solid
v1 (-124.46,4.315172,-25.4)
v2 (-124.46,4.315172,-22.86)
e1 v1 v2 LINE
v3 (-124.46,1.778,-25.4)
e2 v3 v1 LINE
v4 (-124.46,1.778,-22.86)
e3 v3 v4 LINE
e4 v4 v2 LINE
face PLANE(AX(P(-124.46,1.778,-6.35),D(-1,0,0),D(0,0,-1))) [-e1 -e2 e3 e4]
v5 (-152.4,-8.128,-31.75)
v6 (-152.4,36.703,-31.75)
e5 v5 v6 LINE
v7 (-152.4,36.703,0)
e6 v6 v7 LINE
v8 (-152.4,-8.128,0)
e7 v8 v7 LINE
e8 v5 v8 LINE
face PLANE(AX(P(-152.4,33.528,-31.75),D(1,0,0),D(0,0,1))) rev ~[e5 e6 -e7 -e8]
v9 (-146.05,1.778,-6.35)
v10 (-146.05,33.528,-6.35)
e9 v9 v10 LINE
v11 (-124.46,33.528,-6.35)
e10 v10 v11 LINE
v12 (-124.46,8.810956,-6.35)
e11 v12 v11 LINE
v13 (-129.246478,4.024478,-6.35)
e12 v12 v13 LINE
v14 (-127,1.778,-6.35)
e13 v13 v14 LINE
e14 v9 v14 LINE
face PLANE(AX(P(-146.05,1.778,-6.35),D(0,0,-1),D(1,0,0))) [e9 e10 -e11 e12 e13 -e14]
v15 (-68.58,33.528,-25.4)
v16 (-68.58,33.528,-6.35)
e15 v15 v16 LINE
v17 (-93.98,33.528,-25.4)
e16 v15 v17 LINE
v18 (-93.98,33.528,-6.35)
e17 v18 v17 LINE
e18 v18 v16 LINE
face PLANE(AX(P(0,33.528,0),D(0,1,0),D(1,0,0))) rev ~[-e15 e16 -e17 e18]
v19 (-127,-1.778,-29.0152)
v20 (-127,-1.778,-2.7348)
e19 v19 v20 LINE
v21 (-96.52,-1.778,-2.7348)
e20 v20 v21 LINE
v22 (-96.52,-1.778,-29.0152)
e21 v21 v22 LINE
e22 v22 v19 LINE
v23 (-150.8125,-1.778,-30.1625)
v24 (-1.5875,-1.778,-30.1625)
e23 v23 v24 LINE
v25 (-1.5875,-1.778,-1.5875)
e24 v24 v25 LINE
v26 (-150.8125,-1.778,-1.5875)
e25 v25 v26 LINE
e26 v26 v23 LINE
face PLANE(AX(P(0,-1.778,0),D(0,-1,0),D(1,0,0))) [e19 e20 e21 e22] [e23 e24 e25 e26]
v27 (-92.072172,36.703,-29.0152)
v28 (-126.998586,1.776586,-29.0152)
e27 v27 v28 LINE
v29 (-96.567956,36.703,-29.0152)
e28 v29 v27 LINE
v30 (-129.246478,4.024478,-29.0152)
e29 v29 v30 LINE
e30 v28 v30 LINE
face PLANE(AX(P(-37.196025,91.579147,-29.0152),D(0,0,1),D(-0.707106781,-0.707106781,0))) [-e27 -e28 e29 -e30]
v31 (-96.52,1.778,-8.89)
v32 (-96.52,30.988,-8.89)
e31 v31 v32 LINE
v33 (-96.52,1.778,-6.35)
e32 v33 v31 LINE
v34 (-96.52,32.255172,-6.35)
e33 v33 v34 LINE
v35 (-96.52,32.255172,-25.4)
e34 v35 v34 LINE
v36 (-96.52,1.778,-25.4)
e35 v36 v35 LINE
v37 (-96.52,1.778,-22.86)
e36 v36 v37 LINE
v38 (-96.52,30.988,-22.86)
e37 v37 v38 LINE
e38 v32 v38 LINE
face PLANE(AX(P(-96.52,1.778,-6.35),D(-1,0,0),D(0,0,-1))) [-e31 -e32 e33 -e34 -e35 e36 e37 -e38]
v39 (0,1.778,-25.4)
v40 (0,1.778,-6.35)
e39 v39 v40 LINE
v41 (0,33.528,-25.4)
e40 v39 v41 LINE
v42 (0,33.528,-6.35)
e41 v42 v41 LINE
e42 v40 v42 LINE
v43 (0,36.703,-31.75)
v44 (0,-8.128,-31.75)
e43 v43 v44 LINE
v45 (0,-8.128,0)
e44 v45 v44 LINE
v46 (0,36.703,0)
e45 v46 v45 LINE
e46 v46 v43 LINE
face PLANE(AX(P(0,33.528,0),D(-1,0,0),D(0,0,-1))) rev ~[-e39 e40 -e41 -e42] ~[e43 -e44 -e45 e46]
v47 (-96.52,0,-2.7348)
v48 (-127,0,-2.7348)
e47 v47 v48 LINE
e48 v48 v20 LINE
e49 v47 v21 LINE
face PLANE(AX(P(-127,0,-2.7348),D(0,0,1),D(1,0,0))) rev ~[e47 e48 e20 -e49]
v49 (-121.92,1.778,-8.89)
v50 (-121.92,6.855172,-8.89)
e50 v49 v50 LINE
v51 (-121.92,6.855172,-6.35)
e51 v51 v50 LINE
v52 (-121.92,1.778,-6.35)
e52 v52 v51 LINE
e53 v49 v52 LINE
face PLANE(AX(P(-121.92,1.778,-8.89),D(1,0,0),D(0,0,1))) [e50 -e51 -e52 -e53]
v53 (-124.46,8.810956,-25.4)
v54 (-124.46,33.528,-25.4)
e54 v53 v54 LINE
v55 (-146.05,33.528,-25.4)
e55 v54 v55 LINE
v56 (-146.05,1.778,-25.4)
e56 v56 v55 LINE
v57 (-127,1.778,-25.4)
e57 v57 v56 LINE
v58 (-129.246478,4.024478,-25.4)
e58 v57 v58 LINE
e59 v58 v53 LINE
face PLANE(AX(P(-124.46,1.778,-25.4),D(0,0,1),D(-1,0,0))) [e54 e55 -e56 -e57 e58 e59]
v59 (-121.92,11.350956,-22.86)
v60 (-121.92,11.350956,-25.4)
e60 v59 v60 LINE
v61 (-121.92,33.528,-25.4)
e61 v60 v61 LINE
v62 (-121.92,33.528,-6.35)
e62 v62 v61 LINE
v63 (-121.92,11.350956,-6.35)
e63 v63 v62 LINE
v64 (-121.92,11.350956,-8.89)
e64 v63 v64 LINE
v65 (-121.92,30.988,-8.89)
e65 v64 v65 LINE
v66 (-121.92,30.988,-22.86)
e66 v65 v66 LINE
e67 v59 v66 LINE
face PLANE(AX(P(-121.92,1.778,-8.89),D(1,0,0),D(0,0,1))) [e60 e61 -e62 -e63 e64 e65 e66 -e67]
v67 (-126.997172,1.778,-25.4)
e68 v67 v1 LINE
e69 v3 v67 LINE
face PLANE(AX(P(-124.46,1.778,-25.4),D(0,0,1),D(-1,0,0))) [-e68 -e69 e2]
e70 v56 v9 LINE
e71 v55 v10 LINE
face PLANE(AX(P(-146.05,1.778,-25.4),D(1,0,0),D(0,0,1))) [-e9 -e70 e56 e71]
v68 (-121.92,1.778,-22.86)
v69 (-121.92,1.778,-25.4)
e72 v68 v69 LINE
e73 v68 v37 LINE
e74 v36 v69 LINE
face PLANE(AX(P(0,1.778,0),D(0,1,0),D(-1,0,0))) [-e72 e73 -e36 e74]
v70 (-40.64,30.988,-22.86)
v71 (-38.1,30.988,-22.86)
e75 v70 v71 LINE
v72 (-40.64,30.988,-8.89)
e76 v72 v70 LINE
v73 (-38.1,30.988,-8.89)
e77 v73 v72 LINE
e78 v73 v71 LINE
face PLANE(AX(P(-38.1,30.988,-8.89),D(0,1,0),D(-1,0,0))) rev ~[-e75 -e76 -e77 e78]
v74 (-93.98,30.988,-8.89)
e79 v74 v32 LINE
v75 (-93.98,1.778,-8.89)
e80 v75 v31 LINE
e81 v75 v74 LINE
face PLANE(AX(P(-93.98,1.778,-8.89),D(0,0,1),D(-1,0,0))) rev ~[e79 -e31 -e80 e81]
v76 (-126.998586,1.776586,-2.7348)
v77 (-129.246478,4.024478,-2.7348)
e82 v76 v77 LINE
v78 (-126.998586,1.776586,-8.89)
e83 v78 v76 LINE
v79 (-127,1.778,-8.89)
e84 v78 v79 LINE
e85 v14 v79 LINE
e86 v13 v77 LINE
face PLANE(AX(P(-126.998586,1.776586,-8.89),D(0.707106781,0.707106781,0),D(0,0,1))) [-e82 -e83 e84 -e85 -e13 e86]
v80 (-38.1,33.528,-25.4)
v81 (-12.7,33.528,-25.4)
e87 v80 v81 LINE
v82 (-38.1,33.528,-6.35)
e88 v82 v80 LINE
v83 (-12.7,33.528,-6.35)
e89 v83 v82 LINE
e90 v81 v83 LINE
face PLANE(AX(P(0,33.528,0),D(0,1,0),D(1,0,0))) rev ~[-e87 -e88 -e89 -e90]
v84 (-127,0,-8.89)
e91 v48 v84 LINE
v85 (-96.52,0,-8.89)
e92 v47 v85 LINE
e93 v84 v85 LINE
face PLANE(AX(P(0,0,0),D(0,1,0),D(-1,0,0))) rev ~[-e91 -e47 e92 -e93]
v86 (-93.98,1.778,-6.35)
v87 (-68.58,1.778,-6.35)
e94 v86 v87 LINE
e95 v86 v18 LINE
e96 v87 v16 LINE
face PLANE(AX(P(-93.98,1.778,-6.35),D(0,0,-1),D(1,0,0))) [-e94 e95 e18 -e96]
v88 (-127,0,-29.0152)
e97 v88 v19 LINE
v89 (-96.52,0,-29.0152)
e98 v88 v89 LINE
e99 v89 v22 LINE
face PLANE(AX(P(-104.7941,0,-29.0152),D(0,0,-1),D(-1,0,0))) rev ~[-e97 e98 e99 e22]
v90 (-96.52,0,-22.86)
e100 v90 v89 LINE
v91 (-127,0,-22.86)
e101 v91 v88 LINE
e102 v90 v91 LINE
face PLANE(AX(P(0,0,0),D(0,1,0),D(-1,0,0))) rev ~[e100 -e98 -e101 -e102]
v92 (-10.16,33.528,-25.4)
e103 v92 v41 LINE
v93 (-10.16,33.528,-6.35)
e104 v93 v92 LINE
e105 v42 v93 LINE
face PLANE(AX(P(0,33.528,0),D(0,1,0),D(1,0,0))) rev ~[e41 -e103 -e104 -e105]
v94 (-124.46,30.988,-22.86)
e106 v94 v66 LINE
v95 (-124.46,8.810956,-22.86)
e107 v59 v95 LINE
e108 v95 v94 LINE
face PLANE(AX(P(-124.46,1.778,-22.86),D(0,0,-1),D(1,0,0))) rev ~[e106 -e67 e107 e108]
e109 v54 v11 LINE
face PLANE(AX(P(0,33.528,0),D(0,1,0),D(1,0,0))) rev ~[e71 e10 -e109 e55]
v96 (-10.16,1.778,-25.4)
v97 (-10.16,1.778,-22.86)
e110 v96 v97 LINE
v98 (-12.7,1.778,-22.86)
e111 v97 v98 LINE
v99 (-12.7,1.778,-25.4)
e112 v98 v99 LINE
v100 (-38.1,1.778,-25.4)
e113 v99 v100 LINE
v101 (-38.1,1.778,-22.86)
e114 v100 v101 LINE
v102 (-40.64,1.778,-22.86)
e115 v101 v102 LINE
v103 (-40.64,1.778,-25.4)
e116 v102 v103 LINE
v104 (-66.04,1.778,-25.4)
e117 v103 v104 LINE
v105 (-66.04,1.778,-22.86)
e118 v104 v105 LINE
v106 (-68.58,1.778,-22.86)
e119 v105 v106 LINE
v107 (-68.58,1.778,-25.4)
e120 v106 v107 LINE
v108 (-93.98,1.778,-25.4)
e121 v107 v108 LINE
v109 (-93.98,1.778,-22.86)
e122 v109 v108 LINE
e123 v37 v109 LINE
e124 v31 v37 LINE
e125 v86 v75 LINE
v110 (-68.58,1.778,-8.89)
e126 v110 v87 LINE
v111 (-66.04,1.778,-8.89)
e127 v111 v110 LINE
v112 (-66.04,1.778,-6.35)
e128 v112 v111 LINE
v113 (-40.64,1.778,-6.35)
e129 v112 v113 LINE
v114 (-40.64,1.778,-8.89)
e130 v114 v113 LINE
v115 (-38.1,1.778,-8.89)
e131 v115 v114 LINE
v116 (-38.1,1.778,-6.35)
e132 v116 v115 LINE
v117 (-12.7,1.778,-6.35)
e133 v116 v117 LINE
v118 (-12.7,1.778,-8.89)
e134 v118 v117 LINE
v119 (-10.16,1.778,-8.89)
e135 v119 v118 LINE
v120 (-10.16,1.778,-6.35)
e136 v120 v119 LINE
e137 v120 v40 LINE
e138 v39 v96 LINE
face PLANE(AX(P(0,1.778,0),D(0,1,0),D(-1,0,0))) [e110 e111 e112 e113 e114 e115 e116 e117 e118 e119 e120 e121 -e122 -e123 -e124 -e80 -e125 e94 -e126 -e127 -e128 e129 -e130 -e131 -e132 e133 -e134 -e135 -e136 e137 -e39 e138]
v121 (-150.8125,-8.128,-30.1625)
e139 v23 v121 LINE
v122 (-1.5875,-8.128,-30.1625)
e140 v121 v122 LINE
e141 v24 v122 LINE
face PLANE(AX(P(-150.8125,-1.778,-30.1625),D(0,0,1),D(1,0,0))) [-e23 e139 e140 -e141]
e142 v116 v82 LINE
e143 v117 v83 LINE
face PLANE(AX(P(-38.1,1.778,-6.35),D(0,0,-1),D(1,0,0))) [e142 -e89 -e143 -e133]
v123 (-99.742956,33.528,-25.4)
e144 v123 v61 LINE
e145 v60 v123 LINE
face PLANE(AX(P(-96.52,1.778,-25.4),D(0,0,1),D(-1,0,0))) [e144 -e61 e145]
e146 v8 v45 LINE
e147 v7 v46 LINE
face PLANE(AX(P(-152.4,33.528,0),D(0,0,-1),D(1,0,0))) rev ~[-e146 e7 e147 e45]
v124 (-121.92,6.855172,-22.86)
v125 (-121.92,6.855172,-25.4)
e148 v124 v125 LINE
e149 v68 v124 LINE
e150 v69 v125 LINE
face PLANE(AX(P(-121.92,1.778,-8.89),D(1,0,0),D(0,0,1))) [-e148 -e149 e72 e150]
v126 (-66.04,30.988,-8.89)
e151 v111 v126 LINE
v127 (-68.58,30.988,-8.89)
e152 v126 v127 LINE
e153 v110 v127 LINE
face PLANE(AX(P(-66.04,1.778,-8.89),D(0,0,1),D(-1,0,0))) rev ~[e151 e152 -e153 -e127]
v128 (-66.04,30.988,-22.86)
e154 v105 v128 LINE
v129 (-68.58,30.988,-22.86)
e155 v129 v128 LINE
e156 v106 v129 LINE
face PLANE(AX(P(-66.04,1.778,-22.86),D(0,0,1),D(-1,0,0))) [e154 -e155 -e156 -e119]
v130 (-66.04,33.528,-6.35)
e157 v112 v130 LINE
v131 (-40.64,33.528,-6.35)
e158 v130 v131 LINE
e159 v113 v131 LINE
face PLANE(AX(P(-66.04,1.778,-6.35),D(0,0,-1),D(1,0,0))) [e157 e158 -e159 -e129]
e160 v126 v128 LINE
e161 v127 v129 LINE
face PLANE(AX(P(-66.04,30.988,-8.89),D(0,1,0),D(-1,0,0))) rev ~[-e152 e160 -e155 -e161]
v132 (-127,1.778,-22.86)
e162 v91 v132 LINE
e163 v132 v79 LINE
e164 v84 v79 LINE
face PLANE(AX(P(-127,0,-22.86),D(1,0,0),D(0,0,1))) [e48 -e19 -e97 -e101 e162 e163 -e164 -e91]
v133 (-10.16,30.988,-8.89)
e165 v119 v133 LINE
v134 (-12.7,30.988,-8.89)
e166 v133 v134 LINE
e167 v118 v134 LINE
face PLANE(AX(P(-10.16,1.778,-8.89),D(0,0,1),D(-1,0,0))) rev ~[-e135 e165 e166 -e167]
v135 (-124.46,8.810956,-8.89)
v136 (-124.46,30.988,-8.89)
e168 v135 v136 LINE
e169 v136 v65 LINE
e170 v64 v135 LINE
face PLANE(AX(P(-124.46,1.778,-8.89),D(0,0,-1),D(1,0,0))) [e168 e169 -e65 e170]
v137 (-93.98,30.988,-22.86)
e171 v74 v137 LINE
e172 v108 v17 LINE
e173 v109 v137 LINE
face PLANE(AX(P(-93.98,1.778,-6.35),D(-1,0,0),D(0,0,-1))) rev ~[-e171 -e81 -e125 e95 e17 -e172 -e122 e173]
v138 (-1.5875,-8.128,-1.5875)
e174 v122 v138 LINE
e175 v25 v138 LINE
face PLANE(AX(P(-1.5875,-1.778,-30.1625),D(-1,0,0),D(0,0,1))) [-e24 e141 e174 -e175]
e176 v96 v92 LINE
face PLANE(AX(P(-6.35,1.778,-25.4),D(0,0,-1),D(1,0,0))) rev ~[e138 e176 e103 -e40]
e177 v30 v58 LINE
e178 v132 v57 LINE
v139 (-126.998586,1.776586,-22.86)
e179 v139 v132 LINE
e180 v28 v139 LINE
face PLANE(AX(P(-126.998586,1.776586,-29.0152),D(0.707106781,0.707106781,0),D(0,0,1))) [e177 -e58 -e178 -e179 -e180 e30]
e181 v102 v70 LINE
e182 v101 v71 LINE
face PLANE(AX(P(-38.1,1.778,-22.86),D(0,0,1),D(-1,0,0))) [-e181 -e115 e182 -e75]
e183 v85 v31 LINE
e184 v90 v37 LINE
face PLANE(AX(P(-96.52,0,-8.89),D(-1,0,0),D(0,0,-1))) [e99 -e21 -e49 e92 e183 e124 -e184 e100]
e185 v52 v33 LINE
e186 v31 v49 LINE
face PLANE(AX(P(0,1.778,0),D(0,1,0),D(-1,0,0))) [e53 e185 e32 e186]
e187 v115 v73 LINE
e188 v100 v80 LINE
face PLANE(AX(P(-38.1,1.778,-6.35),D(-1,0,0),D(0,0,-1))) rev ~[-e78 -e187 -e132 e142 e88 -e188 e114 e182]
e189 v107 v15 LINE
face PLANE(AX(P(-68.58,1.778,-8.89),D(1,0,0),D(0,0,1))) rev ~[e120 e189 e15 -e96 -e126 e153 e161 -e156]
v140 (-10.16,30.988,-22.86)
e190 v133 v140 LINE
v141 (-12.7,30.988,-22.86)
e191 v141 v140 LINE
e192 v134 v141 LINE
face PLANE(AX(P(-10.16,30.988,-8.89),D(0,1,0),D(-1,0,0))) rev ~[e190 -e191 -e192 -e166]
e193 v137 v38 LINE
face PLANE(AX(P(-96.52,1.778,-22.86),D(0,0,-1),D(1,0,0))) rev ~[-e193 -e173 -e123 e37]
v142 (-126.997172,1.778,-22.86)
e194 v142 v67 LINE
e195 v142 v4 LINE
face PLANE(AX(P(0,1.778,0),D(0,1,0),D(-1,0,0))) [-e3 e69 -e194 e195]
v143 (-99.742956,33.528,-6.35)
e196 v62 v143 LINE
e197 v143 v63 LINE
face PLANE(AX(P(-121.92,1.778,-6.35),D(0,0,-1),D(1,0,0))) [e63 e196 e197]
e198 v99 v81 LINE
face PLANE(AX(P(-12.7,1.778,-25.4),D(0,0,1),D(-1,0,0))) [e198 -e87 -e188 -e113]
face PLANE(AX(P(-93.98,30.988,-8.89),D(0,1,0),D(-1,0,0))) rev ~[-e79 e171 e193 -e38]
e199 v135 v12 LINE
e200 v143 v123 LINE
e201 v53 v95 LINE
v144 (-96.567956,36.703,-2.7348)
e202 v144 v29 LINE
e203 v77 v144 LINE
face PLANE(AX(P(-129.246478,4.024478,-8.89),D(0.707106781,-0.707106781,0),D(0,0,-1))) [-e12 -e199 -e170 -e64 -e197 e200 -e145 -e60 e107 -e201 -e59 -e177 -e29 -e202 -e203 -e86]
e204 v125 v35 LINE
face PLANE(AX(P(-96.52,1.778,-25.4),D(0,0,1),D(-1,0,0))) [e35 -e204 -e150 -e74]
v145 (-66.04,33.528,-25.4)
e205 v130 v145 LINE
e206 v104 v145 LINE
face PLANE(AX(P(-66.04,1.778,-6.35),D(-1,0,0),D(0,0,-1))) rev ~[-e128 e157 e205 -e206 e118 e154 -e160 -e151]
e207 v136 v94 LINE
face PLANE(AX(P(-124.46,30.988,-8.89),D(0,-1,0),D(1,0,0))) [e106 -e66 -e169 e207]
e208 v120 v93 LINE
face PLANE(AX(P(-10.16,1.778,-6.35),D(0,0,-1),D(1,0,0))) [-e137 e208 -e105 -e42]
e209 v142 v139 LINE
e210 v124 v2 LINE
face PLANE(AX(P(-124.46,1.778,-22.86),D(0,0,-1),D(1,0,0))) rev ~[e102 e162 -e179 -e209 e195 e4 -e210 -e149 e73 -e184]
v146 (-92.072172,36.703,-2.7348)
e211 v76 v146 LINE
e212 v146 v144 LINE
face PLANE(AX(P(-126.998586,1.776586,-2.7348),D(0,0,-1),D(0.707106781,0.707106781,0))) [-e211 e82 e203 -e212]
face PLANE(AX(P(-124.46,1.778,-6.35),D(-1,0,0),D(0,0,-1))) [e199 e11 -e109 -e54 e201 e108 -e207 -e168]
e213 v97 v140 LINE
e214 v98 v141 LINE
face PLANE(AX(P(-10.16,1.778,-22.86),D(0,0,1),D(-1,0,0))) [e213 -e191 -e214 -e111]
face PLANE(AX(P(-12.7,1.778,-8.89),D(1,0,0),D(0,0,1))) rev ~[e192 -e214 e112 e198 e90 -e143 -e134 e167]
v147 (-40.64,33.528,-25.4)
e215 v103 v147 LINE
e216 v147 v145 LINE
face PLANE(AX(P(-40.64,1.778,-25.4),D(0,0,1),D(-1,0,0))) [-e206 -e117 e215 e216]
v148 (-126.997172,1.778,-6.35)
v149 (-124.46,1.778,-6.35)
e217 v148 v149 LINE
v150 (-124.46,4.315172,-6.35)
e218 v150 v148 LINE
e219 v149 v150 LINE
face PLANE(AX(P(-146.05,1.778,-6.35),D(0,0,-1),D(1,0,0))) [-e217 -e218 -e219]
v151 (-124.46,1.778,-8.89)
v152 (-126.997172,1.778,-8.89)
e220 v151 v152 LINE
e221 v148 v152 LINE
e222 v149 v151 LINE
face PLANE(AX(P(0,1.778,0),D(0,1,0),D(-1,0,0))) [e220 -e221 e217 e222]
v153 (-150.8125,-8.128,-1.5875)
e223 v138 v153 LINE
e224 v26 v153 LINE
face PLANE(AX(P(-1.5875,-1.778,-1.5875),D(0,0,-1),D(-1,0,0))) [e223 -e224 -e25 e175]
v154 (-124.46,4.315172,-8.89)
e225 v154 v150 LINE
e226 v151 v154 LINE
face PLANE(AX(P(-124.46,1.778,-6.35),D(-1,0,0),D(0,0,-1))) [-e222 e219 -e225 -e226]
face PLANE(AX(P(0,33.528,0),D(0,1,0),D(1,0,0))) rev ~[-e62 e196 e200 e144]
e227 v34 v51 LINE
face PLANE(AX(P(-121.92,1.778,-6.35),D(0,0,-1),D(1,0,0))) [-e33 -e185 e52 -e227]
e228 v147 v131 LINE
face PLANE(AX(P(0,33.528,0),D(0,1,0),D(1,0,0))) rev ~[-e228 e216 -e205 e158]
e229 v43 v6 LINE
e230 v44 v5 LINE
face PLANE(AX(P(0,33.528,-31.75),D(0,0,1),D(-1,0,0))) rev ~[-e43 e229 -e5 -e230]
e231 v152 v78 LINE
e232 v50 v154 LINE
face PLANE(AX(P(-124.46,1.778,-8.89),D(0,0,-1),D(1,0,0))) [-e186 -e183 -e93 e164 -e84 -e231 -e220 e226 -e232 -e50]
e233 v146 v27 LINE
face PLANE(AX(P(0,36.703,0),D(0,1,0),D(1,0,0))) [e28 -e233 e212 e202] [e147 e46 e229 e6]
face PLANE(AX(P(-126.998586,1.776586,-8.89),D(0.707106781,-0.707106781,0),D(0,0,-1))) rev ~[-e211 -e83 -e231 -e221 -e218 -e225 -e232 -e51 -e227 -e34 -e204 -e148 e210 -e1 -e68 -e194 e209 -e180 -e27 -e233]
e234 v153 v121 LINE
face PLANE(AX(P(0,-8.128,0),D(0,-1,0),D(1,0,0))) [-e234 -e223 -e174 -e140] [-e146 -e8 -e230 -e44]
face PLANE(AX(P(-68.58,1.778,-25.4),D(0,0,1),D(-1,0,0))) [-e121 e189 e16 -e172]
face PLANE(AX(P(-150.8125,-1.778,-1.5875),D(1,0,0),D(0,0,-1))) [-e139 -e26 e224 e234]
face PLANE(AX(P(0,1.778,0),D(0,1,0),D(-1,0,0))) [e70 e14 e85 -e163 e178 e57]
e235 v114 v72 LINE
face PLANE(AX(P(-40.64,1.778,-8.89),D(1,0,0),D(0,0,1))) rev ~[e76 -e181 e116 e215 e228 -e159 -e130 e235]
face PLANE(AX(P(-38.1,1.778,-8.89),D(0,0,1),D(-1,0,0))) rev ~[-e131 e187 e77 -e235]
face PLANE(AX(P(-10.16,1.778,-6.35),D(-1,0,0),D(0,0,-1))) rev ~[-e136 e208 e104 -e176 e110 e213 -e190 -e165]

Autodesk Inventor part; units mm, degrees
ref_plane "YZ Plane" through (0, 0, 0) normal (1, 0, 0) x (0, 1, 0)
ref_plane "XZ Plane" through (0, 0, 0) normal (0, 1, 0) x (-1, 0, 0)
ref_plane "XY Plane" through (0, 0, 0) normal (0, 0, 1) x (1, 0, 0)
sketch "Sketch1" plane through (0, 0, 0) normal (0, 1, 0) x (-1, 0, 0)
  line L0 (0, 0) -> (152.4, 0)
  line L1 (152.4, 0) -> (152.4, -31.75)
  line L2 (152.4, -31.75) -> (0, -31.75)
  line L3 (0, -31.75) -> (0, 0)
  line L4 (127, -8.89) -> (96.52, -8.89)
  line L5 (96.52, -8.89) -> (96.52, -22.86)
  line L6 (96.52, -22.86) -> (127, -22.86)
  line L7 (127, -22.86) -> (127, -8.89)
  line L8 (117.2368, -8.89) -> (117.2368, 0)
  line L9 (117.2368, -22.86) -> (117.2368, -31.75)
  dimension "d0" = 152.4
  dimension "d1" = 31.75
  dimension "d2" = 30.48
  dimension "d3" = 13.97
  dimension "d4" = 25.4
extrude "Extrusion1" add sketch "Sketch1" along normal blind 1.778 contours L0 L8 L4 L5 L6 L9 L2 L3 | L0 L1 L2 L9 L6 L7 L4 L8
sketch "Sketch2" plane through (0, 0, 0) normal (0, -1, 0) x (1, 0, 0)
  line L0 (-152.4, 0) -> (0, 0) projected
  line L1 (0, 0) -> (0, -31.75) projected
  line L2 (-152.4, 0) -> (0, 0)
  line L3 (0, 0) -> (0, -31.75)
  line L4 (0, -31.75) -> (-152.4, -31.75)
  line L5 (-152.4, -31.75) -> (-152.4, 0)
  line L6 (-127, -2.7348) -> (-96.52, -2.7348)
  line L7 (-96.52, -2.7348) -> (-96.52, -29.0152)
  line L8 (-96.52, -29.0152) -> (-127, -29.0152)
  line L9 (-127, -29.0152) -> (-127, -2.7348)
  line L10 (-127, -8.89) -> (-127, -22.86) projected
  line L11 (-103.8171, -2.7348) -> (-103.8171, 0)
  line L12 (-104.7941, -29.0152) -> (-104.7941, -31.75)
  line L13 (0, -31.75) -> (-152.4, -31.75) projected
  dimension "d7" = 30.48
  dimension "d8" = 0
extrude "Extrusion2" add sketch "Sketch2" along normal blind 1.778 contours L0 L11 L6 L9 L8 L12 L4 L5 | L0 L1 L4 L12 L8 L7 L6 L11
sketch "Sketch3" plane through (0, -1.778, 0) normal (0, -1, 0) x (1, 0, 0)
  line L0 (-152.4, 0) -> (0, 0) projected
  line L1 (0, -31.75) -> (-152.4, -31.75) projected
  line L2 (-152.4, 0) -> (0, 0)
  line L3 (0, 0) -> (0, -31.75)
  line L4 (0, -31.75) -> (-152.4, -31.75)
  line L5 (-152.4, -31.75) -> (-152.4, 0)
  line L6 (-1.5875, -30.1625) -> (-1.5875, -1.5875)
  line L7 (-1.5875, -1.5875) -> (-150.8125, -1.5875)
  line L8 (-150.8125, -1.5875) -> (-150.8125, -30.1625)
  line L9 (-150.8125, -30.1625) -> (-1.5875, -30.1625)
  dimension "d11" = 1.5875
extrude "Extrusion3" add sketch "Sketch3" along normal blind 6.35
sketch "Sketch4" plane through (0, 1.778, 0) normal (0, 1, 0) x (1, 0, 0)
  line L0 (-152.4, 0) -> (0, 0) projected
  line L1 (-152.4, 31.75) -> (-152.4, 0) projected
  line L2 (0, 0) -> (-152.4, 0)
  line L3 (-152.4, 0) -> (-152.4, 31.75)
  line L4 (-152.4, 31.75) -> (0, 31.75)
  line L5 (-6.35, 25.4) -> (-146.05, 25.4)
  line L6 (-146.05, 25.4) -> (-146.05, 6.35)
  line L7 (-146.05, 6.35) -> (-6.35, 6.35)
  line L8 (-13.5859, 25.4) -> (0, 25.4)
  line L9 (0, 0) -> (0, 31.75) projected
  line L10 (-13.5859, 6.35) -> (0, 6.35)
  line L11 (0, 31.75) -> (0, 25.4)
  line L12 (0, 6.35) -> (0, 0)
  line L13 (-127, 22.86) -> (-96.52, 22.86) projected
  line L14 (-96.52, 22.86) -> (-93.98, 22.86)
  line L15 (-93.98, 22.86) -> (-93.98, 25.4)
  line L16 (-93.98, 25.4) -> (-96.52, 25.4)
  line L17 (-96.52, 25.4) -> (-96.52, 22.86)
  line L18 (-96.52, 2.7348) -> (-96.52, 29.0152) projected
  line L19 (-96.52, 6.35) -> (-93.98, 6.35)
  line L20 (-93.98, 6.35) -> (-93.98, 8.89)
  line L21 (-93.98, 8.89) -> (-96.52, 8.89)
  line L22 (-96.52, 8.89) -> (-96.52, 6.35)
  line L23 (-121.92, 25.4) -> (-124.46, 25.4)
  line L24 (-124.46, 25.4) -> (-124.46, 22.86)
  line L25 (-124.46, 22.86) -> (-121.92, 22.86)
  line L26 (-121.92, 22.86) -> (-121.92, 25.4)
  line L27 (-121.92, 6.35) -> (-124.46, 6.35)
  line L28 (-124.46, 6.35) -> (-124.46, 8.89)
  line L29 (-124.46, 8.89) -> (-121.92, 8.89)
  line L30 (-121.92, 8.89) -> (-121.92, 6.35)
  line L31 (-68.58, 25.4) -> (-66.04, 25.4)
  line L32 (-66.04, 25.4) -> (-66.04, 22.86)
  line L33 (-66.04, 22.86) -> (-68.58, 22.86)
  line L34 (-68.58, 22.86) -> (-68.58, 25.4)
  line L35 (-68.58, 6.35) -> (-66.04, 6.35)
  line L36 (-66.04, 6.35) -> (-66.04, 8.89)
  line L37 (-66.04, 8.89) -> (-68.58, 8.89)
  line L38 (-68.58, 8.89) -> (-68.58, 6.35)
  line L39 (-40.64, 6.35) -> (-38.1, 6.35)
  line L40 (-38.1, 6.35) -> (-38.1, 8.89)
  line L41 (-38.1, 8.89) -> (-40.64, 8.89)
  line L42 (-40.64, 8.89) -> (-40.64, 6.35)
  line L43 (-40.64, 25.4) -> (-38.1, 25.4)
  line L44 (-38.1, 25.4) -> (-38.1, 22.86)
  line L45 (-38.1, 22.86) -> (-40.64, 22.86)
  line L46 (-40.64, 22.86) -> (-40.64, 25.4)
  line L47 (-12.7, 25.4) -> (-10.16, 25.4)
  line L48 (-10.16, 25.4) -> (-10.16, 22.86)
  line L49 (-10.16, 22.86) -> (-12.7, 22.86)
  line L50 (-12.7, 22.86) -> (-12.7, 25.4)
  line L51 (-12.7, 6.35) -> (-10.16, 6.35)
  line L52 (-10.16, 6.35) -> (-10.16, 8.89)
  line L53 (-10.16, 8.89) -> (-12.7, 8.89)
  line L54 (-12.7, 8.89) -> (-12.7, 6.35)
  point P0 (-121.92, 7.62)
  point P1 (-96.52, 7.62)
  point P2 (-93.98, 24.13)
  point P3 (-68.58, 24.13)
  point P4 (-40.64, 24.13)
  point P5 (-66.04, 24.13)
  point P6 (-12.7, 24.13)
  point P7 (-38.1, 24.13)
  point P8 (-6.35, 6.35)
  dimension "d14" = 6.35
  dimension "d15" = 2.54
  dimension "d16" = 2.54
  dimension "d17" = 2.54
  dimension "d18" = 2.54
  dimension "d19" = 2.54
  dimension "d20" = 2.54
  dimension "d21" = 25.4
  dimension "d22" = 2.54
  dimension "d23" = 2.54
  dimension "d24" = 2.54
  dimension "d25" = 2.54
  dimension "d26" = 2.54
  dimension "d27" = 2.54
  dimension "d28" = 2.54
  dimension "d29" = 2.54
  dimension "d30" = 2.54
  dimension "d31" = 2.54
  dimension "d32" = 2.54
  dimension "d33" = 2.54
  dimension "d34" = 25.4
  dimension "d35" = 25.4
  dimension "d36" = 25.4
extrude "Extrusion4" add sketch "Sketch4" along normal blind 31.75 contours L1 L4 L9 L8 L5 L6 L7 L10 L0 | L7 L54 L53 L52 | L48 L49 L50 L5 | L7 L42 L41 L40 | L44 L45 L46 L5 | L7 L38 L37 L36 | L32 L33 L34 L5 | L7 L18 L21 L20 | L15 L14 L17 L5 | L7 L28 L29 L30 | L26 L13 L24 L5
sketch "Sketch5" plane through (-93.98, 1.778, -8.89) normal (0, 0, -1) x (-1, 0, 0)
  line L0 (2.54, 31.75) -> (0, 31.75)
  line L1 (0, 31.75) -> (0, 29.21)
  line L2 (0, 29.21) -> (2.54, 29.21)
  line L3 (2.54, 29.21) -> (2.54, 31.75)
  line L4 (30.48, 31.75) -> (27.94, 31.75) projected
  line L5 (30.48, 0) -> (30.48, 31.75) projected
  line L6 (27.94, 31.75) -> (30.48, 31.75)
  line L7 (30.48, 31.75) -> (30.48, 29.21)
  line L8 (30.48, 29.21) -> (27.94, 29.21)
  line L9 (27.94, 29.21) -> (27.94, 31.75)
  line L10 (-27.94, 0) -> (-27.94, 31.75) projected
  line L11 (-25.4, 0) -> (-25.4, 31.75) projected
  line L12 (-27.94, 29.21) -> (-25.4, 29.21)
  line L13 (-25.4, 29.21) -> (-25.4, 31.75)
  line L14 (-25.4, 31.75) -> (-27.94, 31.75)
  line L15 (-27.94, 31.75) -> (-27.94, 29.21)
  line L16 (-93.98, 31.75) -> (58.42, 31.75) projected
  line L17 (-27.94, 31.75) -> (-25.4, 31.75)
  line L18 (-25.4, 31.75) -> (-25.4, 29.21)
  line L19 (-25.4, 29.21) -> (-27.94, 29.21)
  line L20 (-27.94, 29.21) -> (-27.94, 31.75)
  line L21 (-53.34, 31.75) -> (-55.88, 31.75)
  line L22 (-55.88, 31.75) -> (-55.88, 29.21)
  line L23 (-55.88, 29.21) -> (-53.34, 29.21)
  line L24 (-53.34, 29.21) -> (-53.34, 31.75)
  line L25 (-81.28, 31.75) -> (-83.82, 31.75)
  line L26 (-83.82, 31.75) -> (-83.82, 29.21)
  line L27 (-83.82, 29.21) -> (-81.28, 29.21)
  line L28 (-81.28, 29.21) -> (-81.28, 31.75)
  line L29 (30.48, 31.75) -> (52.07, 31.75) projected
  line L30 (30.48, 31.75) -> (27.94, 31.75)
  line L31 (27.94, 31.75) -> (27.94, 29.21)
  line L32 (27.94, 29.21) -> (30.48, 29.21)
  line L33 (30.48, 29.21) -> (30.48, 31.75)
  point P0 (-93.98, -1.778)
  point P1 (0, 30.48)
  point P2 (-25.4, 30.48)
  point P3 (-27.94, 30.48)
  point P4 (-53.34, 30.48)
  point P5 (-81.28, 30.48)
  point P6 (-55.88, 30.48)
  point P7 (27.94, 30.48)
  point P8 (2.54, 30.48)
  dimension "d39" = 2.54
  dimension "d40" = 2.54
  dimension "d41" = 2.54
  dimension "d42" = 2.54
  dimension "d43" = 2.54
  dimension "d44" = 2.54
  dimension "d45" = 25.4
  dimension "d46" = 25.4
  dimension "d47" = 2.54
  dimension "d48" = 2.54
  dimension "d49" = 25.4
  dimension "d50" = 2.54
  dimension "d51" = 2.54
  dimension "d52" = 25.4
extrude "Extrusion5" add sketch "Sketch5" along normal up to next
sketch "Sketch6" plane through (0, 33.528, 0) normal (0, 1, 0) x (1, 0, 0)
  line L0 (-152.4, 31.75) -> (-152.4, 0) projected
  line L1 (0, 31.75) -> (-152.4, 31.75) projected
  line L2 (-152.4, 0) -> (0, 0)
  line L3 (0, 0) -> (0, 31.75)
  line L4 (0, 31.75) -> (-152.4, 31.75)
  line L5 (-152.4, 31.75) -> (-152.4, 0)
extrude "Extrusion6" add sketch "Sketch6" along normal blind 3.175
ref_plane "Work Plane1" through (-127, 1.778, -8.89) normal (0.7071, -0.7071, 0) x (0, 0, -1)
sketch "Sketch7" plane through (-127, 1.778, -8.89) normal (0.7071, -0.7071, 0) x (0, 0, -1)
  line L0 (20.1252, -1.2572) -> (20.1252, 20.2954) projected
  line L1 (20.1252, 0) -> (-6.1552, 0)
  line L2 (-6.1552, 0) -> (-6.1552, 127)
  line L3 (-6.1552, 127) -> (20.1252, 127)
  line L4 (20.1252, 127) -> (20.1252, 0)
  line L5 (0, 0) -> (13.97, 0) projected
  point P0 (-8.89, 88.5453)
  point P1 (20.1252, 20.2954)
  dimension "d58" = 0
  dimension "d59" = 127
extrude "Extrusion7" cut sketch "Sketch7" against normal blind 3.175
sketch "Sketch8" plane through (0, 1.778, 0) normal (0, 1, 0) x (1, 0, 0)
  line L0 (63.8737, 171.7375) -> (-193.0507, 171.7375)
  line L1 (-193.0507, 171.7375) -> (-193.0507, -76.4775)
  line L2 (-193.0507, -76.4775) -> (63.8737, -76.4775)
  line L3 (63.8737, -76.4775) -> (63.8737, 171.7375)
  point P0 (0, 0)
properties part number "Full Print"
